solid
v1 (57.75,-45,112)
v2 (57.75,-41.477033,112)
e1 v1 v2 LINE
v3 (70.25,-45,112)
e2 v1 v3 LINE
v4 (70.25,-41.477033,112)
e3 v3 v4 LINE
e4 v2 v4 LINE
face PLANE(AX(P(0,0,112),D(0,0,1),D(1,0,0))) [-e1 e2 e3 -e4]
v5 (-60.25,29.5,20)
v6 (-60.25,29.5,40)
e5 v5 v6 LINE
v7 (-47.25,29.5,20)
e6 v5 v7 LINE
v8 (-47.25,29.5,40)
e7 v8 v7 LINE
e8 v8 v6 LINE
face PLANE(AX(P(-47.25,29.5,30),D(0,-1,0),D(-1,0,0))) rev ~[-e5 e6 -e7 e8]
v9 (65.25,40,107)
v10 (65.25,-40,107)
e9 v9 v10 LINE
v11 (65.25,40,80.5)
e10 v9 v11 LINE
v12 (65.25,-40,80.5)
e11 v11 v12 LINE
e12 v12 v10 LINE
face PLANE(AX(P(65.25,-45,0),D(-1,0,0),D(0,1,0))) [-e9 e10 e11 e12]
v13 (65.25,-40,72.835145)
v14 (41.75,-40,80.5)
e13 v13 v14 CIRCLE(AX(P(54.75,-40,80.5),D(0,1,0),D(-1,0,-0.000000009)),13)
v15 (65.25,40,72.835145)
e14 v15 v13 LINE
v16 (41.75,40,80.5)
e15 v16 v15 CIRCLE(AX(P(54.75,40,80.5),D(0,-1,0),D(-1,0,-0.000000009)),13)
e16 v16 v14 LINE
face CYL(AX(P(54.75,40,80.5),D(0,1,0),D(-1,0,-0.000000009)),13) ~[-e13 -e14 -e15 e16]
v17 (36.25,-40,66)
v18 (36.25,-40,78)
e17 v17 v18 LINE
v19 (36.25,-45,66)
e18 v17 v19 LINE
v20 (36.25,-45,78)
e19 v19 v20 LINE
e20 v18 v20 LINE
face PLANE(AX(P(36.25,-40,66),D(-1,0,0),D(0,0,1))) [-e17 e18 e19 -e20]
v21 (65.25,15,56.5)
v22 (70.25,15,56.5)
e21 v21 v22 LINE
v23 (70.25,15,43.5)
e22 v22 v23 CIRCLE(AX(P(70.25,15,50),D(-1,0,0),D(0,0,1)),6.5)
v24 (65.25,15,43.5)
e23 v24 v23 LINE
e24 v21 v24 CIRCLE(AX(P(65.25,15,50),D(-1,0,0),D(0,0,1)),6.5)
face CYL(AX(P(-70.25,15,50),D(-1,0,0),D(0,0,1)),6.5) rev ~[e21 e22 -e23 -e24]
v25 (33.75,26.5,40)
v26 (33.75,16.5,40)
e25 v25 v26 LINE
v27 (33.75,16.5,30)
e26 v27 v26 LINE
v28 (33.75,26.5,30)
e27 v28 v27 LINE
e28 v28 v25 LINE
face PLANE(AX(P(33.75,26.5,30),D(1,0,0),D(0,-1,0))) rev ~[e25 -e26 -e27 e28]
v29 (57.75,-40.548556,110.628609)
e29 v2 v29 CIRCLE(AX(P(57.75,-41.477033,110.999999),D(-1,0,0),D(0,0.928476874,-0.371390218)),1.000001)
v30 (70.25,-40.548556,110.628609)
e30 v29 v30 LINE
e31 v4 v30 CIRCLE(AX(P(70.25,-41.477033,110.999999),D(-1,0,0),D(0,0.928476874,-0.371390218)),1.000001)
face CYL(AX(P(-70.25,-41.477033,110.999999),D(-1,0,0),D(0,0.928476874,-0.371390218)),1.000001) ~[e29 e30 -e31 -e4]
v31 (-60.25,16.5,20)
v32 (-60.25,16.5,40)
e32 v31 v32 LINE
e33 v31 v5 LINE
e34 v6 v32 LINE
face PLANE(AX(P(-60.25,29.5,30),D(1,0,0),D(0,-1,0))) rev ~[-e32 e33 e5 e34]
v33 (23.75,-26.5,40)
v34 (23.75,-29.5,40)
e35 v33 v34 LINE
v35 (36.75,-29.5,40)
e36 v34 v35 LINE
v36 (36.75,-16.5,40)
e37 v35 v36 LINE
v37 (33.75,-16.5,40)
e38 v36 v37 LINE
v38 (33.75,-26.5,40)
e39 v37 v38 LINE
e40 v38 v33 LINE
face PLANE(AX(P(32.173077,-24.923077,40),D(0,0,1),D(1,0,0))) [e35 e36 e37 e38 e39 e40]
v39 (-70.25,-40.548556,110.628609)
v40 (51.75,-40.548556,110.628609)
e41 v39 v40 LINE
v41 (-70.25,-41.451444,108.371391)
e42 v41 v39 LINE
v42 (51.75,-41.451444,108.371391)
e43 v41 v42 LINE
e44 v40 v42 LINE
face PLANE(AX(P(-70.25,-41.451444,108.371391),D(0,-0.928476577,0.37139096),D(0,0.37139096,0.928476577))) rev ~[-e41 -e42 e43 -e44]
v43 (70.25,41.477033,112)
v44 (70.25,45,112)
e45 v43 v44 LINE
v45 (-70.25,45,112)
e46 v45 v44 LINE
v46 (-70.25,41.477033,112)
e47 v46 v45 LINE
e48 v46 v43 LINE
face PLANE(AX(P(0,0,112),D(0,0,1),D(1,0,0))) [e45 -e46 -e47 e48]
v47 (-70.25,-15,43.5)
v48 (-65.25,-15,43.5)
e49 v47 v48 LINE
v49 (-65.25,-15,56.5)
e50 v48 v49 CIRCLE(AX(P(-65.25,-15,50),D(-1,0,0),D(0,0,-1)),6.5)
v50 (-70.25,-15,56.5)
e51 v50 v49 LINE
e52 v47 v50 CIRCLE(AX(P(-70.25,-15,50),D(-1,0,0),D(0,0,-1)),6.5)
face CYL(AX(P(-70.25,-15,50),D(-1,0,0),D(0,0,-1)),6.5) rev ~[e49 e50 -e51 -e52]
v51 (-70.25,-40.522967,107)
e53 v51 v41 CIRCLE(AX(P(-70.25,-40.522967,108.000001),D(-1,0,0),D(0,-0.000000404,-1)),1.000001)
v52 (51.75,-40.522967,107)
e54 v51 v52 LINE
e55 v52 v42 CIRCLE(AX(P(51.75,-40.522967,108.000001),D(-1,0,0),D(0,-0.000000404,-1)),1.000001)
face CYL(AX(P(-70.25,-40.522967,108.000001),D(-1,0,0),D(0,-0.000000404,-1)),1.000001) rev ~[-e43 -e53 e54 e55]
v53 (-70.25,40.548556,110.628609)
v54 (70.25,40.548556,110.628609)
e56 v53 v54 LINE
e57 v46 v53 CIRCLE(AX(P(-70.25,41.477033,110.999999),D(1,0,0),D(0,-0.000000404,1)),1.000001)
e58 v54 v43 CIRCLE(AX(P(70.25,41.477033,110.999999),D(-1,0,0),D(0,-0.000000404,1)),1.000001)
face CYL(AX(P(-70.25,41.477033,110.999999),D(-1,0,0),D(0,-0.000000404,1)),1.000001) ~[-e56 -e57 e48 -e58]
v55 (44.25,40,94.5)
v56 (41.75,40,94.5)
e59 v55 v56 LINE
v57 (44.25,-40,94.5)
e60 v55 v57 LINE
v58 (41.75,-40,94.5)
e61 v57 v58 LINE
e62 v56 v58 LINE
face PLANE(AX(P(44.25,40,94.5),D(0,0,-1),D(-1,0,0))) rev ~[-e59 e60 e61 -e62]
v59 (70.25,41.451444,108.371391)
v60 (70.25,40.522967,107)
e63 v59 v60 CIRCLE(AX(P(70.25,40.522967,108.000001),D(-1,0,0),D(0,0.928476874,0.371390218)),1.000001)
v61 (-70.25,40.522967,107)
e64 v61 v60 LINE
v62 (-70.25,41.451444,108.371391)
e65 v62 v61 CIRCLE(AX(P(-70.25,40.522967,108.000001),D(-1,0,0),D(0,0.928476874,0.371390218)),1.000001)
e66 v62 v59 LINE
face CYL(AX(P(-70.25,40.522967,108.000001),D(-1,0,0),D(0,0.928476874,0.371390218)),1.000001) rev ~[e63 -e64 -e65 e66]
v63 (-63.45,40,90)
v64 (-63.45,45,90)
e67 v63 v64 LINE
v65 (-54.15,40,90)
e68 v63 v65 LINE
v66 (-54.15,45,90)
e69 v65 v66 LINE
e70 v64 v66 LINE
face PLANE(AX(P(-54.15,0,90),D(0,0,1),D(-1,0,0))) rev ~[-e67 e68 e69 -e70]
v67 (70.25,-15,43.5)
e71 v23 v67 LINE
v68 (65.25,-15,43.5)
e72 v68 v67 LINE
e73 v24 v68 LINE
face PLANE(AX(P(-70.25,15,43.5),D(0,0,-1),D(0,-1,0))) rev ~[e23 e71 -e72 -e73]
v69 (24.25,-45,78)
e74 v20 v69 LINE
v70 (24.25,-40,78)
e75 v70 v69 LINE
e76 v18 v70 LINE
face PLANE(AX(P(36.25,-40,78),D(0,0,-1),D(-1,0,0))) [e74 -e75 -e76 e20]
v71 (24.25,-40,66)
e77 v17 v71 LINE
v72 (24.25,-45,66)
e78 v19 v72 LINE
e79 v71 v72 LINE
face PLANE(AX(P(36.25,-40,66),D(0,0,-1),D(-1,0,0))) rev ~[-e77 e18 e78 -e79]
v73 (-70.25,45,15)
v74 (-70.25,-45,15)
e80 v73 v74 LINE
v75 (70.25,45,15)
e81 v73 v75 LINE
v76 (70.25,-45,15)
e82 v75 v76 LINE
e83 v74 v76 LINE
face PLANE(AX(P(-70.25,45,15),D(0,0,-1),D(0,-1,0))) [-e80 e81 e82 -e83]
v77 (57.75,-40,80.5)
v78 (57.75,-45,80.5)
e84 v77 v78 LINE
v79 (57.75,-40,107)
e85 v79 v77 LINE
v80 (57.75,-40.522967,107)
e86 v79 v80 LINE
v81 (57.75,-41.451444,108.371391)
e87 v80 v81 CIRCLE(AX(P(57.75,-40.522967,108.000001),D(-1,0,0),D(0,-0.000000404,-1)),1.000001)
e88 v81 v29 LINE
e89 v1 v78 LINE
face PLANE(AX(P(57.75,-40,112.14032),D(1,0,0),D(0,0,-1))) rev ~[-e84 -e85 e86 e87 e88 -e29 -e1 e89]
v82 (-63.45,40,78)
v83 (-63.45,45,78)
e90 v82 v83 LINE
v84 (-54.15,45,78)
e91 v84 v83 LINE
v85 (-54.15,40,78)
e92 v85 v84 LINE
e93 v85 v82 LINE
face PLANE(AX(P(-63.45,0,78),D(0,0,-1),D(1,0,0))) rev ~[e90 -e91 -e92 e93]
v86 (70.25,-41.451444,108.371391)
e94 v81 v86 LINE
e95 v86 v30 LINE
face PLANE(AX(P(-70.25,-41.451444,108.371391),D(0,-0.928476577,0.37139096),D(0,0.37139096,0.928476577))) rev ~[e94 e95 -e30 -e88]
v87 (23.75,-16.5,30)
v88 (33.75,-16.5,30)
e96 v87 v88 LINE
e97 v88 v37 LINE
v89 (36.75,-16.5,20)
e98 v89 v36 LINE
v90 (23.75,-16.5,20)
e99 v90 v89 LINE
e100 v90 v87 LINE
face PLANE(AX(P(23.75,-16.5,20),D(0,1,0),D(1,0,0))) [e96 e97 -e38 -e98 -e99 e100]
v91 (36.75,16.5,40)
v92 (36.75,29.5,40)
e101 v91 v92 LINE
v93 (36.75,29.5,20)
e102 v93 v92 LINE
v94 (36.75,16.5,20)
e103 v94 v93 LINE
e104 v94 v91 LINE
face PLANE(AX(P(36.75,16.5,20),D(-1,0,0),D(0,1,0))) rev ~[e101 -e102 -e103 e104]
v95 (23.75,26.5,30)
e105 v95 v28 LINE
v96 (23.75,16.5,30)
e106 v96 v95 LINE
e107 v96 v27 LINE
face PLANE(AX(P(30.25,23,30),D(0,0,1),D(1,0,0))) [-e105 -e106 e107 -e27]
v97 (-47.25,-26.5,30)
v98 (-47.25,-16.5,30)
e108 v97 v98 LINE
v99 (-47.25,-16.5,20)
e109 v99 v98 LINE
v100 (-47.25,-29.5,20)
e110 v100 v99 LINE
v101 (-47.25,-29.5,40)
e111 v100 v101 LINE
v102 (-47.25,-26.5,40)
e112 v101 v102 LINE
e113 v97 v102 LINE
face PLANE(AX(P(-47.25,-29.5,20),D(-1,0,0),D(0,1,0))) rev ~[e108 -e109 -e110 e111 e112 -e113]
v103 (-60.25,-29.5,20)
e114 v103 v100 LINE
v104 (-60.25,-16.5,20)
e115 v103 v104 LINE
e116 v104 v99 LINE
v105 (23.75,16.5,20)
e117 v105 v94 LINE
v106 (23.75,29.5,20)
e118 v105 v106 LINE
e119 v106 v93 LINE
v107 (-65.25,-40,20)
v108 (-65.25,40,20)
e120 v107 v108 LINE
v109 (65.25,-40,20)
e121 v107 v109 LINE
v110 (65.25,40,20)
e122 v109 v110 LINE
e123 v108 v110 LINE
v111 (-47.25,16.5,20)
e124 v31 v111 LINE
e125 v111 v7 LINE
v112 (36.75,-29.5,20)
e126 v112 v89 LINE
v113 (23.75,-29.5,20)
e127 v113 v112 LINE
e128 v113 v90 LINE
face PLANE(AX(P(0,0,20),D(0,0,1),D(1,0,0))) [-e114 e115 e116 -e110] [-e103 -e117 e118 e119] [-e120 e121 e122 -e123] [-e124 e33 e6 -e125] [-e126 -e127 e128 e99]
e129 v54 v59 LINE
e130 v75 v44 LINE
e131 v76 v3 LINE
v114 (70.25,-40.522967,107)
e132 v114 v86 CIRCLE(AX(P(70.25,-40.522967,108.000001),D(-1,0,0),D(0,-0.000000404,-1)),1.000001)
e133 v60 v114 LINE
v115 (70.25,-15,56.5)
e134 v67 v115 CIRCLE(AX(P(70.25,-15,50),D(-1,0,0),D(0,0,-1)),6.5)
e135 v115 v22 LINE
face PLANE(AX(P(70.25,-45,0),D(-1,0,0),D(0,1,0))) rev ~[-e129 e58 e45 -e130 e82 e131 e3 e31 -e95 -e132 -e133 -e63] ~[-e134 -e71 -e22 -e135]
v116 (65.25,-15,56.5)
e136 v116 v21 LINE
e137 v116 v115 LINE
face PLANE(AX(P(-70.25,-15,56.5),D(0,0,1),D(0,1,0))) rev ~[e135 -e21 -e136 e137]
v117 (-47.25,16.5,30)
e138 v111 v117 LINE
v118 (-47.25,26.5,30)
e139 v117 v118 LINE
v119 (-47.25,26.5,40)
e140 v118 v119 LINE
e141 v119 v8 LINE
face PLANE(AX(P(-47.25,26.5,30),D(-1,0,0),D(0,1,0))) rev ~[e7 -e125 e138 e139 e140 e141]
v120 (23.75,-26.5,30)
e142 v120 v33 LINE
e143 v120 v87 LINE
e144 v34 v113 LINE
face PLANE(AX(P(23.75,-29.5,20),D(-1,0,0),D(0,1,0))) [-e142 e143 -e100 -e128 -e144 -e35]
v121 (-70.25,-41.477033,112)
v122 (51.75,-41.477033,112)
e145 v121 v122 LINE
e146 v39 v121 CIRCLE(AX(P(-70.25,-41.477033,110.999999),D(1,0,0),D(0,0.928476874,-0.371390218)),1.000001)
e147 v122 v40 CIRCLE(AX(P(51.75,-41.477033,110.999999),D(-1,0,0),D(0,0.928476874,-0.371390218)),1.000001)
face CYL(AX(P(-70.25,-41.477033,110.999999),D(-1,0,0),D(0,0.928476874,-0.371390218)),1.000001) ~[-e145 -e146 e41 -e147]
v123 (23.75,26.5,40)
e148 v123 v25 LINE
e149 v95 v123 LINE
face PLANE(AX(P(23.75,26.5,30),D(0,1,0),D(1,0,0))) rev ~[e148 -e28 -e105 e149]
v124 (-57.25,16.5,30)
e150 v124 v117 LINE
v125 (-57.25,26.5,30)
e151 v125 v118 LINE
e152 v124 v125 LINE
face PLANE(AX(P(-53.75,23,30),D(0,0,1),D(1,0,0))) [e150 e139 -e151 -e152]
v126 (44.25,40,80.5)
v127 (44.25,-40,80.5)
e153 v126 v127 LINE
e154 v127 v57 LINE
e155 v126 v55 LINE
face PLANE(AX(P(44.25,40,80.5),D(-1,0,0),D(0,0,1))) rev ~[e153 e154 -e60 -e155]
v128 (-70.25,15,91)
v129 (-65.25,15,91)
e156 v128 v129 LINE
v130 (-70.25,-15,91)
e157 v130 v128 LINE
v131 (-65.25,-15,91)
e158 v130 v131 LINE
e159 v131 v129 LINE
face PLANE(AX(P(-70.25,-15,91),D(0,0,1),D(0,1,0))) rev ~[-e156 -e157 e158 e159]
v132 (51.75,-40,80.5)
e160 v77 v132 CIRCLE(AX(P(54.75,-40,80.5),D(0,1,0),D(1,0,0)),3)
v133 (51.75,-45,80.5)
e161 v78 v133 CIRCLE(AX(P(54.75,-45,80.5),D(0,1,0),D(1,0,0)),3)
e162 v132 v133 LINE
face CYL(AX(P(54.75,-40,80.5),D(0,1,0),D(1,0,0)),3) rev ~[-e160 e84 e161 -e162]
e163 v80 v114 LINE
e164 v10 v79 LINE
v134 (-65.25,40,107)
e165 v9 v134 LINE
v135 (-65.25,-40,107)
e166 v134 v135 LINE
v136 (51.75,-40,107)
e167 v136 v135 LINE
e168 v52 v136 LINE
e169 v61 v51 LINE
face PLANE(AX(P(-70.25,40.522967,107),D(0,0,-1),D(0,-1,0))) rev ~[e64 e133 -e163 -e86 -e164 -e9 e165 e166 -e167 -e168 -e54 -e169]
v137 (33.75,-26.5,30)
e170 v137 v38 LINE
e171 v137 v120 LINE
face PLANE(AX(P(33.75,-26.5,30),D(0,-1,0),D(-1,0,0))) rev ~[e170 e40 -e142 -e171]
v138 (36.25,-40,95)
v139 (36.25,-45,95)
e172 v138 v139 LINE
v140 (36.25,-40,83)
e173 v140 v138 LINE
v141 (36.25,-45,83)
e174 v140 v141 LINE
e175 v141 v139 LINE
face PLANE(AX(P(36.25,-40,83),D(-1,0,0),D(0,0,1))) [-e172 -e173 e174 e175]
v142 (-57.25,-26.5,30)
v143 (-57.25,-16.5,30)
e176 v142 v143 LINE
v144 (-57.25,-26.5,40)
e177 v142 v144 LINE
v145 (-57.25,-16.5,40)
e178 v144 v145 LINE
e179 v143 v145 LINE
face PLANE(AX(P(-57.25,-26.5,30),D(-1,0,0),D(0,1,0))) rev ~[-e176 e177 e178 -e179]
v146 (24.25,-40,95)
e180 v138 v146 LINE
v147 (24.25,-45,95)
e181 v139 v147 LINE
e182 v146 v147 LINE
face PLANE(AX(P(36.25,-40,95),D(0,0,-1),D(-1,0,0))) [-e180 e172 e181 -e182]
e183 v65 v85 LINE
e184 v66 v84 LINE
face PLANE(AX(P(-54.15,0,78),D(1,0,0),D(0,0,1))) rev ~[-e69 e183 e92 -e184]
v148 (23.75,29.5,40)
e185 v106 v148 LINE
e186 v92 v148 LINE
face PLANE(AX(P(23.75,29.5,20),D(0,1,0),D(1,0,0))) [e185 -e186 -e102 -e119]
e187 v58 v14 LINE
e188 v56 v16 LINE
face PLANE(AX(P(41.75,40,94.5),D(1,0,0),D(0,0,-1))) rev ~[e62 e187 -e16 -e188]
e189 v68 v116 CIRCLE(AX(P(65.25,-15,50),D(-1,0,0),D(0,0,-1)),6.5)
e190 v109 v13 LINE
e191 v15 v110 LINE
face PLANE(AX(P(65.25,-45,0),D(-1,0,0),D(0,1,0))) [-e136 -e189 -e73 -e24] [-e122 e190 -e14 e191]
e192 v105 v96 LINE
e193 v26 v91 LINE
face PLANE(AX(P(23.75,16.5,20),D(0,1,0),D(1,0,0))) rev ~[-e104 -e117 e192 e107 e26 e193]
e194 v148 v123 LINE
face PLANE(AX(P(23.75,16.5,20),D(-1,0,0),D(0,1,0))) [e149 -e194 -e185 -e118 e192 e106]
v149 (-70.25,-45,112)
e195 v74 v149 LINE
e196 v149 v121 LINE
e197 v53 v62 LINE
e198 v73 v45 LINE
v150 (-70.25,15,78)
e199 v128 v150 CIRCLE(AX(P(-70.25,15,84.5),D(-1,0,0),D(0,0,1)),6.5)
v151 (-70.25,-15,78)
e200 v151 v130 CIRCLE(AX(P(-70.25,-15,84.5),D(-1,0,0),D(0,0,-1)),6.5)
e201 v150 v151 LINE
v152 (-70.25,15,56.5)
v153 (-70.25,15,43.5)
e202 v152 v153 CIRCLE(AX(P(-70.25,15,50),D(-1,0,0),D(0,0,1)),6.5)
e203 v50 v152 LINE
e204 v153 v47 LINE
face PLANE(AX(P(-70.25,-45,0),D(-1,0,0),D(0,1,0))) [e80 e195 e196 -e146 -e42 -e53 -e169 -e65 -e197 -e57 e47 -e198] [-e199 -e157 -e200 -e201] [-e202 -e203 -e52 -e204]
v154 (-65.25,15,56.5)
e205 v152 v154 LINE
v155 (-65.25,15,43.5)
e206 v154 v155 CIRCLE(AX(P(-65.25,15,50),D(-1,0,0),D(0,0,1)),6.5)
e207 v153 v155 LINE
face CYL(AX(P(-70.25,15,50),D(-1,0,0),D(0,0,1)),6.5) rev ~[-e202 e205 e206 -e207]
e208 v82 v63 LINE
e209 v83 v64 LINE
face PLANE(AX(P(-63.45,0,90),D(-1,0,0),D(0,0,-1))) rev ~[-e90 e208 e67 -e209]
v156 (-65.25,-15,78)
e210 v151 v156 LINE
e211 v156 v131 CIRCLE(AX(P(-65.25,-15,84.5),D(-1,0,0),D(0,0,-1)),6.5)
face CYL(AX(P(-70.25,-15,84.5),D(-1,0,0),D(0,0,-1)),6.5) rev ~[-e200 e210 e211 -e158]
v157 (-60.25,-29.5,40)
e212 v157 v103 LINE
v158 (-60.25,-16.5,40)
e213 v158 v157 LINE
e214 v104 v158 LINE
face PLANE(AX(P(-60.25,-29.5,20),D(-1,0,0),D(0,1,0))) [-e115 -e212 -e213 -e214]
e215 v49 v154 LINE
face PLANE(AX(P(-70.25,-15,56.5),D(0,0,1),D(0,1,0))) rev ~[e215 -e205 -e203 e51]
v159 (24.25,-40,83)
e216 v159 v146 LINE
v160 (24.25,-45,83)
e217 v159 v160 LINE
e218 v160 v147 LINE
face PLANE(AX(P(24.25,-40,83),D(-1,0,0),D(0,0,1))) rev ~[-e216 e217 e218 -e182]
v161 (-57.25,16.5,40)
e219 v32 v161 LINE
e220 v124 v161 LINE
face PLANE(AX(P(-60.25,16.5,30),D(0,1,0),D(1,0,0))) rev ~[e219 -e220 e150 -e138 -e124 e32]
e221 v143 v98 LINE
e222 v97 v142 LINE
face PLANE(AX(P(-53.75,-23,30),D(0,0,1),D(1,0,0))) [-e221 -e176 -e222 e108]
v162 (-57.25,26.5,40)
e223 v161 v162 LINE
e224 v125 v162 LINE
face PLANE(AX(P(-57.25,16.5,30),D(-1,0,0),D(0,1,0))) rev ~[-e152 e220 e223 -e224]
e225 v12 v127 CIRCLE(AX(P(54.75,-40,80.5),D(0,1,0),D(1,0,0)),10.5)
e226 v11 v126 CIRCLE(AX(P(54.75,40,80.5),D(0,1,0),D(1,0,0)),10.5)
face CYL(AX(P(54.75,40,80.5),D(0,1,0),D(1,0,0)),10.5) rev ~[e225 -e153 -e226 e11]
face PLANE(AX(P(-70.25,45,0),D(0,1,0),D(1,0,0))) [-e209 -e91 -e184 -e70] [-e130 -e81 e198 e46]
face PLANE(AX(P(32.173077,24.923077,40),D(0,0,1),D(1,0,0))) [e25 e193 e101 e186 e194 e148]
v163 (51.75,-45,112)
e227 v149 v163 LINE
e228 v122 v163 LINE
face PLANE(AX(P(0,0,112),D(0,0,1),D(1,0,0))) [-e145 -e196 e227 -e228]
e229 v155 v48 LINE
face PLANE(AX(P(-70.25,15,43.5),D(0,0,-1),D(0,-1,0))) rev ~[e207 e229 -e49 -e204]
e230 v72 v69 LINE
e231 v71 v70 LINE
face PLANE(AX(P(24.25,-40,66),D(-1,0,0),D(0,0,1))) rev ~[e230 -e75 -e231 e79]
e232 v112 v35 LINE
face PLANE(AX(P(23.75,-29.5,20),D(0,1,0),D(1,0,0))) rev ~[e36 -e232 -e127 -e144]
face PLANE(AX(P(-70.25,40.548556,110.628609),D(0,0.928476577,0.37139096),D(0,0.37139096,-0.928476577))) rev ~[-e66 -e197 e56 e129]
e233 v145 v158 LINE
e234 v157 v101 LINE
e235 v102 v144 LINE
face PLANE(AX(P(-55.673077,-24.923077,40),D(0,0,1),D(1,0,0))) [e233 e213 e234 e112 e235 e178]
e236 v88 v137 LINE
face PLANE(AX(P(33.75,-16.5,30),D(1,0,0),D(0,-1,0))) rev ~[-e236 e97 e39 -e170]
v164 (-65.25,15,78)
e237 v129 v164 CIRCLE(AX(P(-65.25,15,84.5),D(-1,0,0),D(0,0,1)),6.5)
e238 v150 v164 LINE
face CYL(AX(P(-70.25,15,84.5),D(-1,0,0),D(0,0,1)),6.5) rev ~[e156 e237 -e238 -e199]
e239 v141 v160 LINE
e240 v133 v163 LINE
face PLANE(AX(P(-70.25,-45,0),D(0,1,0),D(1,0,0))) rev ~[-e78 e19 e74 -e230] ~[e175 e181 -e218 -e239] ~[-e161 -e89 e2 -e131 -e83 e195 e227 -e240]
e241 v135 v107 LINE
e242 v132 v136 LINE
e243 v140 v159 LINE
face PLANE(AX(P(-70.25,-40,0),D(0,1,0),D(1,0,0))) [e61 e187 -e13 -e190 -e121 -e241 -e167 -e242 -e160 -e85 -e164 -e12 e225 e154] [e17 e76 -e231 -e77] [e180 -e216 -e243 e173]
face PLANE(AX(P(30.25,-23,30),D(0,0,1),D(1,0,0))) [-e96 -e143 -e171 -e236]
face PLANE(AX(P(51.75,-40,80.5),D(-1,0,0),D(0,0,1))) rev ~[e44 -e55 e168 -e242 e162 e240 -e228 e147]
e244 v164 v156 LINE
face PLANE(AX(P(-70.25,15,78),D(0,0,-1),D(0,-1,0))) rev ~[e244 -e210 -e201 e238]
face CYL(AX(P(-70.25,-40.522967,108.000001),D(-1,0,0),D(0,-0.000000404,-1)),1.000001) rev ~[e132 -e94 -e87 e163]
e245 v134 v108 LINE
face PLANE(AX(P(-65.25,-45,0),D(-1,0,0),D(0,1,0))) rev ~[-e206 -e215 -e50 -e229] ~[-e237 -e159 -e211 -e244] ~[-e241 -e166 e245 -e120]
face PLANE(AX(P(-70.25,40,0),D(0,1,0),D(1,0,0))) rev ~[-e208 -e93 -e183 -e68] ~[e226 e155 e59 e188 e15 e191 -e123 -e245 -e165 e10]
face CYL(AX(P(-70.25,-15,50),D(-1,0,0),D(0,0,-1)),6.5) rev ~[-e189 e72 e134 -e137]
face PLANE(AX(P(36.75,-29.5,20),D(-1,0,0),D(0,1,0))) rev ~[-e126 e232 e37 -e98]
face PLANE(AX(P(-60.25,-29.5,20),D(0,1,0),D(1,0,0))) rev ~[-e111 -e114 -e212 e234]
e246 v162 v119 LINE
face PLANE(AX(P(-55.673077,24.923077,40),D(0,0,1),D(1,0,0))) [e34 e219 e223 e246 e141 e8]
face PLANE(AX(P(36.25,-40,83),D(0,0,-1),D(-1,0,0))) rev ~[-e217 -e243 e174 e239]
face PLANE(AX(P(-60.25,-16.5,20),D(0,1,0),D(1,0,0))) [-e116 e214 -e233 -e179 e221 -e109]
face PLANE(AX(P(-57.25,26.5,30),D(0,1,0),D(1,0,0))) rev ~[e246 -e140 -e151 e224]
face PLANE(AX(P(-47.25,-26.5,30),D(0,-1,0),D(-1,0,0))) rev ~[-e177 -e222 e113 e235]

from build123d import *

# Parameters (mm, degrees)
F0_W      = 140.5
F0_H      = 90
F1_DEPTH  = 112
F2_T      = -5
F4_DEPTH  = 147.9
F6_DEPTH  = 83.1
F7_W      = 12
F7_H      = 12
F8_DEPTH  = 25
F9_W      = 130.5
F9_H      = 80
F10_DEPTH = 15
F11_W     = 90
F11_H     = 15
F12_DEPTH = 174.4
F14_DEPTH = 25
F15_W     = 13
F15_H     = 13
F16_DEPTH = 10
F18_DEPTH = 10
F20_DEPTH = 61.2


with BuildPart() as f1:
    # F0 (on Top) → F1 (new body)
    with BuildSketch(Plane.XY):
        Rectangle(F0_W, F0_H)
    extrude(amount=F1_DEPTH)

    # F2
    f2_openings = [f1.faces().sort_by_distance(p)[0] for p in [
        (0, 0, 112),
    ]]
    offset(amount=F2_T, openings=f2_openings)

    # F3 (on face) → F4 (cut)
    with BuildSketch(Plane(origin=(-70.25, 0, 0), x_dir=(0, -1, 0), z_dir=(-1, 0, 0))):
        with BuildLine():
            Line((-40.522967, 107), (-40, 107))
            Line((-40, 107), (40, 107))
            Line((40, 107), (40.522967, 107))
            ThreePointArc((40.522967, 107), (41.351034, 107.439371), (41.451444, 108.371391))
            Line((41.451444, 108.371391), (40.548556, 110.628609))
            ThreePointArc((40.548556, 110.628609), (40.648966, 111.560629), (41.477033, 112))
            Line((41.477033, 112), (-41.477033, 112))
            ThreePointArc((-41.477033, 112), (-40.648966, 111.560629), (-40.548556, 110.628609))
            Line((-40.548556, 110.628609), (-41.451444, 108.371391))
            ThreePointArc((-41.451444, 108.371391), (-41.351034, 107.439371), (-40.522967, 107))
        make_face()
    extrude(amount=-F4_DEPTH, mode=Mode.SUBTRACT)

    # F5 (on face) → F6 (join)
    with BuildSketch(Plane.XZ.offset(-40)):
        with BuildLine():
            ThreePointArc((65.25, 80.5), (54.75, 70), (44.25, 80.5))
            Line((44.25, 80.5), (44.25, 94.5))
            Line((44.25, 94.5), (41.75, 94.5))
            Line((41.75, 94.5), (41.75, 80.5))
            ThreePointArc((41.75, 80.5), (50.718871, 68.140793), (65.25, 72.835145))
            Line((65.25, 72.835145), (65.25, 80.5))
        make_face()
    extrude(amount=F6_DEPTH)

    # F7 (on face) → F8 (cut)
    with BuildSketch(Plane(origin=(0, -40, 0), x_dir=(-1, 0, 0), z_dir=(0, 1, 0))):
        with BuildLine():
            Line((-57.75, 112.14032), (-57.75, 80.5))
            ThreePointArc((-57.75, 80.5), (-54.75, 77.5), (-51.75, 80.5))
            Line((-51.75, 80.5), (-51.75, 112.14032))
            Line((-51.75, 112.14032), (-57.75, 112.14032))
        make_face()
        with Locations((-30.25, 89)):
            Rectangle(F7_W, F7_H)
        with Locations((-30.25, 72)):
            Rectangle(F7_W, F7_H)
    extrude(amount=-F8_DEPTH, mode=Mode.SUBTRACT)

    # F9 (on face) → F10 (join)
    with BuildSketch(Plane.XY.offset(5)):
        Rectangle(F9_W, F9_H)
    extrude(amount=F10_DEPTH)

    # F11 (on face) → F12 (cut)
    with BuildSketch(Plane(origin=(-70.25, 0, 0), x_dir=(0, -1, 0), z_dir=(-1, 0, 0))):
        with Locations((0, 7.5)):
            Rectangle(F11_W, F11_H)
        with BuildLine():
            ThreePointArc((15, 43.5), (21.5, 50), (15, 56.5))
            Line((15, 56.5), (-15, 56.5))
            ThreePointArc((-15, 56.5), (-21.5, 50), (-15, 43.5))
            Line((-15, 43.5), (15, 43.5))
        make_face()
    extrude(amount=-F12_DEPTH, mode=Mode.SUBTRACT)

    # F13 (on face) → F14 (cut)
    with BuildSketch(Plane(origin=(-70.25, 0, 0), x_dir=(0, -1, 0), z_dir=(-1, 0, 0))):
        with BuildLine():
            Line((-15, 78), (15, 78))
            ThreePointArc((15, 78), (21.5, 84.5), (15, 91))
            Line((15, 91), (-15, 91))
            ThreePointArc((-15, 91), (-21.5, 84.5), (-15, 78))
        make_face()
    extrude(amount=-F14_DEPTH, mode=Mode.SUBTRACT)

    # F15 (on face) → F16 (join)
    with BuildSketch(Plane.XY.offset(20)):
        with Locations((-53.75, 23)):
            Rectangle(F15_W, F15_H)
        with Locations((30.25, 23)):
            Rectangle(F15_W, F15_H)
        with Locations((30.25, -23)):
            Rectangle(F15_W, F15_H)
        with Locations((-53.75, -23)):
            Rectangle(F15_W, F15_H)
    extrude(amount=F16_DEPTH)

    # F17 (on face) → F18 (join)
    with BuildSketch(Plane.XY.offset(30)):
        Polygon((-47.25, 29.5), (-60.25, 29.5), (-60.25, 16.5), (-57.25, 16.5), (-57.25, 26.5), (-47.25, 26.5), align=None)
        Polygon((-60.25, -29.5), (-47.25, -29.5), (-47.25, -26.5), (-57.25, -26.5), (-57.25, -16.5), (-60.25, -16.5), align=None)
        Polygon((33.75, 26.5), (33.75, 16.5), (36.75, 16.5), (36.75, 29.5), (23.75, 29.5), (23.75, 26.5), align=None)
        Polygon((23.75, -26.5), (23.75, -29.5), (36.75, -29.5), (36.75, -16.5), (33.75, -16.5), (33.75, -26.5), align=None)
    extrude(amount=F18_DEPTH)

    # F19 (on Front) → F20 (cut)
    with BuildSketch(Plane.XZ):
        Polygon((-63.45, 90), (-63.45, 78), (-58.946795, 78), (-54.15, 78), (-54.15, 90), align=None)
    extrude(amount=-F20_DEPTH, mode=Mode.SUBTRACT)


solid = f1.part
